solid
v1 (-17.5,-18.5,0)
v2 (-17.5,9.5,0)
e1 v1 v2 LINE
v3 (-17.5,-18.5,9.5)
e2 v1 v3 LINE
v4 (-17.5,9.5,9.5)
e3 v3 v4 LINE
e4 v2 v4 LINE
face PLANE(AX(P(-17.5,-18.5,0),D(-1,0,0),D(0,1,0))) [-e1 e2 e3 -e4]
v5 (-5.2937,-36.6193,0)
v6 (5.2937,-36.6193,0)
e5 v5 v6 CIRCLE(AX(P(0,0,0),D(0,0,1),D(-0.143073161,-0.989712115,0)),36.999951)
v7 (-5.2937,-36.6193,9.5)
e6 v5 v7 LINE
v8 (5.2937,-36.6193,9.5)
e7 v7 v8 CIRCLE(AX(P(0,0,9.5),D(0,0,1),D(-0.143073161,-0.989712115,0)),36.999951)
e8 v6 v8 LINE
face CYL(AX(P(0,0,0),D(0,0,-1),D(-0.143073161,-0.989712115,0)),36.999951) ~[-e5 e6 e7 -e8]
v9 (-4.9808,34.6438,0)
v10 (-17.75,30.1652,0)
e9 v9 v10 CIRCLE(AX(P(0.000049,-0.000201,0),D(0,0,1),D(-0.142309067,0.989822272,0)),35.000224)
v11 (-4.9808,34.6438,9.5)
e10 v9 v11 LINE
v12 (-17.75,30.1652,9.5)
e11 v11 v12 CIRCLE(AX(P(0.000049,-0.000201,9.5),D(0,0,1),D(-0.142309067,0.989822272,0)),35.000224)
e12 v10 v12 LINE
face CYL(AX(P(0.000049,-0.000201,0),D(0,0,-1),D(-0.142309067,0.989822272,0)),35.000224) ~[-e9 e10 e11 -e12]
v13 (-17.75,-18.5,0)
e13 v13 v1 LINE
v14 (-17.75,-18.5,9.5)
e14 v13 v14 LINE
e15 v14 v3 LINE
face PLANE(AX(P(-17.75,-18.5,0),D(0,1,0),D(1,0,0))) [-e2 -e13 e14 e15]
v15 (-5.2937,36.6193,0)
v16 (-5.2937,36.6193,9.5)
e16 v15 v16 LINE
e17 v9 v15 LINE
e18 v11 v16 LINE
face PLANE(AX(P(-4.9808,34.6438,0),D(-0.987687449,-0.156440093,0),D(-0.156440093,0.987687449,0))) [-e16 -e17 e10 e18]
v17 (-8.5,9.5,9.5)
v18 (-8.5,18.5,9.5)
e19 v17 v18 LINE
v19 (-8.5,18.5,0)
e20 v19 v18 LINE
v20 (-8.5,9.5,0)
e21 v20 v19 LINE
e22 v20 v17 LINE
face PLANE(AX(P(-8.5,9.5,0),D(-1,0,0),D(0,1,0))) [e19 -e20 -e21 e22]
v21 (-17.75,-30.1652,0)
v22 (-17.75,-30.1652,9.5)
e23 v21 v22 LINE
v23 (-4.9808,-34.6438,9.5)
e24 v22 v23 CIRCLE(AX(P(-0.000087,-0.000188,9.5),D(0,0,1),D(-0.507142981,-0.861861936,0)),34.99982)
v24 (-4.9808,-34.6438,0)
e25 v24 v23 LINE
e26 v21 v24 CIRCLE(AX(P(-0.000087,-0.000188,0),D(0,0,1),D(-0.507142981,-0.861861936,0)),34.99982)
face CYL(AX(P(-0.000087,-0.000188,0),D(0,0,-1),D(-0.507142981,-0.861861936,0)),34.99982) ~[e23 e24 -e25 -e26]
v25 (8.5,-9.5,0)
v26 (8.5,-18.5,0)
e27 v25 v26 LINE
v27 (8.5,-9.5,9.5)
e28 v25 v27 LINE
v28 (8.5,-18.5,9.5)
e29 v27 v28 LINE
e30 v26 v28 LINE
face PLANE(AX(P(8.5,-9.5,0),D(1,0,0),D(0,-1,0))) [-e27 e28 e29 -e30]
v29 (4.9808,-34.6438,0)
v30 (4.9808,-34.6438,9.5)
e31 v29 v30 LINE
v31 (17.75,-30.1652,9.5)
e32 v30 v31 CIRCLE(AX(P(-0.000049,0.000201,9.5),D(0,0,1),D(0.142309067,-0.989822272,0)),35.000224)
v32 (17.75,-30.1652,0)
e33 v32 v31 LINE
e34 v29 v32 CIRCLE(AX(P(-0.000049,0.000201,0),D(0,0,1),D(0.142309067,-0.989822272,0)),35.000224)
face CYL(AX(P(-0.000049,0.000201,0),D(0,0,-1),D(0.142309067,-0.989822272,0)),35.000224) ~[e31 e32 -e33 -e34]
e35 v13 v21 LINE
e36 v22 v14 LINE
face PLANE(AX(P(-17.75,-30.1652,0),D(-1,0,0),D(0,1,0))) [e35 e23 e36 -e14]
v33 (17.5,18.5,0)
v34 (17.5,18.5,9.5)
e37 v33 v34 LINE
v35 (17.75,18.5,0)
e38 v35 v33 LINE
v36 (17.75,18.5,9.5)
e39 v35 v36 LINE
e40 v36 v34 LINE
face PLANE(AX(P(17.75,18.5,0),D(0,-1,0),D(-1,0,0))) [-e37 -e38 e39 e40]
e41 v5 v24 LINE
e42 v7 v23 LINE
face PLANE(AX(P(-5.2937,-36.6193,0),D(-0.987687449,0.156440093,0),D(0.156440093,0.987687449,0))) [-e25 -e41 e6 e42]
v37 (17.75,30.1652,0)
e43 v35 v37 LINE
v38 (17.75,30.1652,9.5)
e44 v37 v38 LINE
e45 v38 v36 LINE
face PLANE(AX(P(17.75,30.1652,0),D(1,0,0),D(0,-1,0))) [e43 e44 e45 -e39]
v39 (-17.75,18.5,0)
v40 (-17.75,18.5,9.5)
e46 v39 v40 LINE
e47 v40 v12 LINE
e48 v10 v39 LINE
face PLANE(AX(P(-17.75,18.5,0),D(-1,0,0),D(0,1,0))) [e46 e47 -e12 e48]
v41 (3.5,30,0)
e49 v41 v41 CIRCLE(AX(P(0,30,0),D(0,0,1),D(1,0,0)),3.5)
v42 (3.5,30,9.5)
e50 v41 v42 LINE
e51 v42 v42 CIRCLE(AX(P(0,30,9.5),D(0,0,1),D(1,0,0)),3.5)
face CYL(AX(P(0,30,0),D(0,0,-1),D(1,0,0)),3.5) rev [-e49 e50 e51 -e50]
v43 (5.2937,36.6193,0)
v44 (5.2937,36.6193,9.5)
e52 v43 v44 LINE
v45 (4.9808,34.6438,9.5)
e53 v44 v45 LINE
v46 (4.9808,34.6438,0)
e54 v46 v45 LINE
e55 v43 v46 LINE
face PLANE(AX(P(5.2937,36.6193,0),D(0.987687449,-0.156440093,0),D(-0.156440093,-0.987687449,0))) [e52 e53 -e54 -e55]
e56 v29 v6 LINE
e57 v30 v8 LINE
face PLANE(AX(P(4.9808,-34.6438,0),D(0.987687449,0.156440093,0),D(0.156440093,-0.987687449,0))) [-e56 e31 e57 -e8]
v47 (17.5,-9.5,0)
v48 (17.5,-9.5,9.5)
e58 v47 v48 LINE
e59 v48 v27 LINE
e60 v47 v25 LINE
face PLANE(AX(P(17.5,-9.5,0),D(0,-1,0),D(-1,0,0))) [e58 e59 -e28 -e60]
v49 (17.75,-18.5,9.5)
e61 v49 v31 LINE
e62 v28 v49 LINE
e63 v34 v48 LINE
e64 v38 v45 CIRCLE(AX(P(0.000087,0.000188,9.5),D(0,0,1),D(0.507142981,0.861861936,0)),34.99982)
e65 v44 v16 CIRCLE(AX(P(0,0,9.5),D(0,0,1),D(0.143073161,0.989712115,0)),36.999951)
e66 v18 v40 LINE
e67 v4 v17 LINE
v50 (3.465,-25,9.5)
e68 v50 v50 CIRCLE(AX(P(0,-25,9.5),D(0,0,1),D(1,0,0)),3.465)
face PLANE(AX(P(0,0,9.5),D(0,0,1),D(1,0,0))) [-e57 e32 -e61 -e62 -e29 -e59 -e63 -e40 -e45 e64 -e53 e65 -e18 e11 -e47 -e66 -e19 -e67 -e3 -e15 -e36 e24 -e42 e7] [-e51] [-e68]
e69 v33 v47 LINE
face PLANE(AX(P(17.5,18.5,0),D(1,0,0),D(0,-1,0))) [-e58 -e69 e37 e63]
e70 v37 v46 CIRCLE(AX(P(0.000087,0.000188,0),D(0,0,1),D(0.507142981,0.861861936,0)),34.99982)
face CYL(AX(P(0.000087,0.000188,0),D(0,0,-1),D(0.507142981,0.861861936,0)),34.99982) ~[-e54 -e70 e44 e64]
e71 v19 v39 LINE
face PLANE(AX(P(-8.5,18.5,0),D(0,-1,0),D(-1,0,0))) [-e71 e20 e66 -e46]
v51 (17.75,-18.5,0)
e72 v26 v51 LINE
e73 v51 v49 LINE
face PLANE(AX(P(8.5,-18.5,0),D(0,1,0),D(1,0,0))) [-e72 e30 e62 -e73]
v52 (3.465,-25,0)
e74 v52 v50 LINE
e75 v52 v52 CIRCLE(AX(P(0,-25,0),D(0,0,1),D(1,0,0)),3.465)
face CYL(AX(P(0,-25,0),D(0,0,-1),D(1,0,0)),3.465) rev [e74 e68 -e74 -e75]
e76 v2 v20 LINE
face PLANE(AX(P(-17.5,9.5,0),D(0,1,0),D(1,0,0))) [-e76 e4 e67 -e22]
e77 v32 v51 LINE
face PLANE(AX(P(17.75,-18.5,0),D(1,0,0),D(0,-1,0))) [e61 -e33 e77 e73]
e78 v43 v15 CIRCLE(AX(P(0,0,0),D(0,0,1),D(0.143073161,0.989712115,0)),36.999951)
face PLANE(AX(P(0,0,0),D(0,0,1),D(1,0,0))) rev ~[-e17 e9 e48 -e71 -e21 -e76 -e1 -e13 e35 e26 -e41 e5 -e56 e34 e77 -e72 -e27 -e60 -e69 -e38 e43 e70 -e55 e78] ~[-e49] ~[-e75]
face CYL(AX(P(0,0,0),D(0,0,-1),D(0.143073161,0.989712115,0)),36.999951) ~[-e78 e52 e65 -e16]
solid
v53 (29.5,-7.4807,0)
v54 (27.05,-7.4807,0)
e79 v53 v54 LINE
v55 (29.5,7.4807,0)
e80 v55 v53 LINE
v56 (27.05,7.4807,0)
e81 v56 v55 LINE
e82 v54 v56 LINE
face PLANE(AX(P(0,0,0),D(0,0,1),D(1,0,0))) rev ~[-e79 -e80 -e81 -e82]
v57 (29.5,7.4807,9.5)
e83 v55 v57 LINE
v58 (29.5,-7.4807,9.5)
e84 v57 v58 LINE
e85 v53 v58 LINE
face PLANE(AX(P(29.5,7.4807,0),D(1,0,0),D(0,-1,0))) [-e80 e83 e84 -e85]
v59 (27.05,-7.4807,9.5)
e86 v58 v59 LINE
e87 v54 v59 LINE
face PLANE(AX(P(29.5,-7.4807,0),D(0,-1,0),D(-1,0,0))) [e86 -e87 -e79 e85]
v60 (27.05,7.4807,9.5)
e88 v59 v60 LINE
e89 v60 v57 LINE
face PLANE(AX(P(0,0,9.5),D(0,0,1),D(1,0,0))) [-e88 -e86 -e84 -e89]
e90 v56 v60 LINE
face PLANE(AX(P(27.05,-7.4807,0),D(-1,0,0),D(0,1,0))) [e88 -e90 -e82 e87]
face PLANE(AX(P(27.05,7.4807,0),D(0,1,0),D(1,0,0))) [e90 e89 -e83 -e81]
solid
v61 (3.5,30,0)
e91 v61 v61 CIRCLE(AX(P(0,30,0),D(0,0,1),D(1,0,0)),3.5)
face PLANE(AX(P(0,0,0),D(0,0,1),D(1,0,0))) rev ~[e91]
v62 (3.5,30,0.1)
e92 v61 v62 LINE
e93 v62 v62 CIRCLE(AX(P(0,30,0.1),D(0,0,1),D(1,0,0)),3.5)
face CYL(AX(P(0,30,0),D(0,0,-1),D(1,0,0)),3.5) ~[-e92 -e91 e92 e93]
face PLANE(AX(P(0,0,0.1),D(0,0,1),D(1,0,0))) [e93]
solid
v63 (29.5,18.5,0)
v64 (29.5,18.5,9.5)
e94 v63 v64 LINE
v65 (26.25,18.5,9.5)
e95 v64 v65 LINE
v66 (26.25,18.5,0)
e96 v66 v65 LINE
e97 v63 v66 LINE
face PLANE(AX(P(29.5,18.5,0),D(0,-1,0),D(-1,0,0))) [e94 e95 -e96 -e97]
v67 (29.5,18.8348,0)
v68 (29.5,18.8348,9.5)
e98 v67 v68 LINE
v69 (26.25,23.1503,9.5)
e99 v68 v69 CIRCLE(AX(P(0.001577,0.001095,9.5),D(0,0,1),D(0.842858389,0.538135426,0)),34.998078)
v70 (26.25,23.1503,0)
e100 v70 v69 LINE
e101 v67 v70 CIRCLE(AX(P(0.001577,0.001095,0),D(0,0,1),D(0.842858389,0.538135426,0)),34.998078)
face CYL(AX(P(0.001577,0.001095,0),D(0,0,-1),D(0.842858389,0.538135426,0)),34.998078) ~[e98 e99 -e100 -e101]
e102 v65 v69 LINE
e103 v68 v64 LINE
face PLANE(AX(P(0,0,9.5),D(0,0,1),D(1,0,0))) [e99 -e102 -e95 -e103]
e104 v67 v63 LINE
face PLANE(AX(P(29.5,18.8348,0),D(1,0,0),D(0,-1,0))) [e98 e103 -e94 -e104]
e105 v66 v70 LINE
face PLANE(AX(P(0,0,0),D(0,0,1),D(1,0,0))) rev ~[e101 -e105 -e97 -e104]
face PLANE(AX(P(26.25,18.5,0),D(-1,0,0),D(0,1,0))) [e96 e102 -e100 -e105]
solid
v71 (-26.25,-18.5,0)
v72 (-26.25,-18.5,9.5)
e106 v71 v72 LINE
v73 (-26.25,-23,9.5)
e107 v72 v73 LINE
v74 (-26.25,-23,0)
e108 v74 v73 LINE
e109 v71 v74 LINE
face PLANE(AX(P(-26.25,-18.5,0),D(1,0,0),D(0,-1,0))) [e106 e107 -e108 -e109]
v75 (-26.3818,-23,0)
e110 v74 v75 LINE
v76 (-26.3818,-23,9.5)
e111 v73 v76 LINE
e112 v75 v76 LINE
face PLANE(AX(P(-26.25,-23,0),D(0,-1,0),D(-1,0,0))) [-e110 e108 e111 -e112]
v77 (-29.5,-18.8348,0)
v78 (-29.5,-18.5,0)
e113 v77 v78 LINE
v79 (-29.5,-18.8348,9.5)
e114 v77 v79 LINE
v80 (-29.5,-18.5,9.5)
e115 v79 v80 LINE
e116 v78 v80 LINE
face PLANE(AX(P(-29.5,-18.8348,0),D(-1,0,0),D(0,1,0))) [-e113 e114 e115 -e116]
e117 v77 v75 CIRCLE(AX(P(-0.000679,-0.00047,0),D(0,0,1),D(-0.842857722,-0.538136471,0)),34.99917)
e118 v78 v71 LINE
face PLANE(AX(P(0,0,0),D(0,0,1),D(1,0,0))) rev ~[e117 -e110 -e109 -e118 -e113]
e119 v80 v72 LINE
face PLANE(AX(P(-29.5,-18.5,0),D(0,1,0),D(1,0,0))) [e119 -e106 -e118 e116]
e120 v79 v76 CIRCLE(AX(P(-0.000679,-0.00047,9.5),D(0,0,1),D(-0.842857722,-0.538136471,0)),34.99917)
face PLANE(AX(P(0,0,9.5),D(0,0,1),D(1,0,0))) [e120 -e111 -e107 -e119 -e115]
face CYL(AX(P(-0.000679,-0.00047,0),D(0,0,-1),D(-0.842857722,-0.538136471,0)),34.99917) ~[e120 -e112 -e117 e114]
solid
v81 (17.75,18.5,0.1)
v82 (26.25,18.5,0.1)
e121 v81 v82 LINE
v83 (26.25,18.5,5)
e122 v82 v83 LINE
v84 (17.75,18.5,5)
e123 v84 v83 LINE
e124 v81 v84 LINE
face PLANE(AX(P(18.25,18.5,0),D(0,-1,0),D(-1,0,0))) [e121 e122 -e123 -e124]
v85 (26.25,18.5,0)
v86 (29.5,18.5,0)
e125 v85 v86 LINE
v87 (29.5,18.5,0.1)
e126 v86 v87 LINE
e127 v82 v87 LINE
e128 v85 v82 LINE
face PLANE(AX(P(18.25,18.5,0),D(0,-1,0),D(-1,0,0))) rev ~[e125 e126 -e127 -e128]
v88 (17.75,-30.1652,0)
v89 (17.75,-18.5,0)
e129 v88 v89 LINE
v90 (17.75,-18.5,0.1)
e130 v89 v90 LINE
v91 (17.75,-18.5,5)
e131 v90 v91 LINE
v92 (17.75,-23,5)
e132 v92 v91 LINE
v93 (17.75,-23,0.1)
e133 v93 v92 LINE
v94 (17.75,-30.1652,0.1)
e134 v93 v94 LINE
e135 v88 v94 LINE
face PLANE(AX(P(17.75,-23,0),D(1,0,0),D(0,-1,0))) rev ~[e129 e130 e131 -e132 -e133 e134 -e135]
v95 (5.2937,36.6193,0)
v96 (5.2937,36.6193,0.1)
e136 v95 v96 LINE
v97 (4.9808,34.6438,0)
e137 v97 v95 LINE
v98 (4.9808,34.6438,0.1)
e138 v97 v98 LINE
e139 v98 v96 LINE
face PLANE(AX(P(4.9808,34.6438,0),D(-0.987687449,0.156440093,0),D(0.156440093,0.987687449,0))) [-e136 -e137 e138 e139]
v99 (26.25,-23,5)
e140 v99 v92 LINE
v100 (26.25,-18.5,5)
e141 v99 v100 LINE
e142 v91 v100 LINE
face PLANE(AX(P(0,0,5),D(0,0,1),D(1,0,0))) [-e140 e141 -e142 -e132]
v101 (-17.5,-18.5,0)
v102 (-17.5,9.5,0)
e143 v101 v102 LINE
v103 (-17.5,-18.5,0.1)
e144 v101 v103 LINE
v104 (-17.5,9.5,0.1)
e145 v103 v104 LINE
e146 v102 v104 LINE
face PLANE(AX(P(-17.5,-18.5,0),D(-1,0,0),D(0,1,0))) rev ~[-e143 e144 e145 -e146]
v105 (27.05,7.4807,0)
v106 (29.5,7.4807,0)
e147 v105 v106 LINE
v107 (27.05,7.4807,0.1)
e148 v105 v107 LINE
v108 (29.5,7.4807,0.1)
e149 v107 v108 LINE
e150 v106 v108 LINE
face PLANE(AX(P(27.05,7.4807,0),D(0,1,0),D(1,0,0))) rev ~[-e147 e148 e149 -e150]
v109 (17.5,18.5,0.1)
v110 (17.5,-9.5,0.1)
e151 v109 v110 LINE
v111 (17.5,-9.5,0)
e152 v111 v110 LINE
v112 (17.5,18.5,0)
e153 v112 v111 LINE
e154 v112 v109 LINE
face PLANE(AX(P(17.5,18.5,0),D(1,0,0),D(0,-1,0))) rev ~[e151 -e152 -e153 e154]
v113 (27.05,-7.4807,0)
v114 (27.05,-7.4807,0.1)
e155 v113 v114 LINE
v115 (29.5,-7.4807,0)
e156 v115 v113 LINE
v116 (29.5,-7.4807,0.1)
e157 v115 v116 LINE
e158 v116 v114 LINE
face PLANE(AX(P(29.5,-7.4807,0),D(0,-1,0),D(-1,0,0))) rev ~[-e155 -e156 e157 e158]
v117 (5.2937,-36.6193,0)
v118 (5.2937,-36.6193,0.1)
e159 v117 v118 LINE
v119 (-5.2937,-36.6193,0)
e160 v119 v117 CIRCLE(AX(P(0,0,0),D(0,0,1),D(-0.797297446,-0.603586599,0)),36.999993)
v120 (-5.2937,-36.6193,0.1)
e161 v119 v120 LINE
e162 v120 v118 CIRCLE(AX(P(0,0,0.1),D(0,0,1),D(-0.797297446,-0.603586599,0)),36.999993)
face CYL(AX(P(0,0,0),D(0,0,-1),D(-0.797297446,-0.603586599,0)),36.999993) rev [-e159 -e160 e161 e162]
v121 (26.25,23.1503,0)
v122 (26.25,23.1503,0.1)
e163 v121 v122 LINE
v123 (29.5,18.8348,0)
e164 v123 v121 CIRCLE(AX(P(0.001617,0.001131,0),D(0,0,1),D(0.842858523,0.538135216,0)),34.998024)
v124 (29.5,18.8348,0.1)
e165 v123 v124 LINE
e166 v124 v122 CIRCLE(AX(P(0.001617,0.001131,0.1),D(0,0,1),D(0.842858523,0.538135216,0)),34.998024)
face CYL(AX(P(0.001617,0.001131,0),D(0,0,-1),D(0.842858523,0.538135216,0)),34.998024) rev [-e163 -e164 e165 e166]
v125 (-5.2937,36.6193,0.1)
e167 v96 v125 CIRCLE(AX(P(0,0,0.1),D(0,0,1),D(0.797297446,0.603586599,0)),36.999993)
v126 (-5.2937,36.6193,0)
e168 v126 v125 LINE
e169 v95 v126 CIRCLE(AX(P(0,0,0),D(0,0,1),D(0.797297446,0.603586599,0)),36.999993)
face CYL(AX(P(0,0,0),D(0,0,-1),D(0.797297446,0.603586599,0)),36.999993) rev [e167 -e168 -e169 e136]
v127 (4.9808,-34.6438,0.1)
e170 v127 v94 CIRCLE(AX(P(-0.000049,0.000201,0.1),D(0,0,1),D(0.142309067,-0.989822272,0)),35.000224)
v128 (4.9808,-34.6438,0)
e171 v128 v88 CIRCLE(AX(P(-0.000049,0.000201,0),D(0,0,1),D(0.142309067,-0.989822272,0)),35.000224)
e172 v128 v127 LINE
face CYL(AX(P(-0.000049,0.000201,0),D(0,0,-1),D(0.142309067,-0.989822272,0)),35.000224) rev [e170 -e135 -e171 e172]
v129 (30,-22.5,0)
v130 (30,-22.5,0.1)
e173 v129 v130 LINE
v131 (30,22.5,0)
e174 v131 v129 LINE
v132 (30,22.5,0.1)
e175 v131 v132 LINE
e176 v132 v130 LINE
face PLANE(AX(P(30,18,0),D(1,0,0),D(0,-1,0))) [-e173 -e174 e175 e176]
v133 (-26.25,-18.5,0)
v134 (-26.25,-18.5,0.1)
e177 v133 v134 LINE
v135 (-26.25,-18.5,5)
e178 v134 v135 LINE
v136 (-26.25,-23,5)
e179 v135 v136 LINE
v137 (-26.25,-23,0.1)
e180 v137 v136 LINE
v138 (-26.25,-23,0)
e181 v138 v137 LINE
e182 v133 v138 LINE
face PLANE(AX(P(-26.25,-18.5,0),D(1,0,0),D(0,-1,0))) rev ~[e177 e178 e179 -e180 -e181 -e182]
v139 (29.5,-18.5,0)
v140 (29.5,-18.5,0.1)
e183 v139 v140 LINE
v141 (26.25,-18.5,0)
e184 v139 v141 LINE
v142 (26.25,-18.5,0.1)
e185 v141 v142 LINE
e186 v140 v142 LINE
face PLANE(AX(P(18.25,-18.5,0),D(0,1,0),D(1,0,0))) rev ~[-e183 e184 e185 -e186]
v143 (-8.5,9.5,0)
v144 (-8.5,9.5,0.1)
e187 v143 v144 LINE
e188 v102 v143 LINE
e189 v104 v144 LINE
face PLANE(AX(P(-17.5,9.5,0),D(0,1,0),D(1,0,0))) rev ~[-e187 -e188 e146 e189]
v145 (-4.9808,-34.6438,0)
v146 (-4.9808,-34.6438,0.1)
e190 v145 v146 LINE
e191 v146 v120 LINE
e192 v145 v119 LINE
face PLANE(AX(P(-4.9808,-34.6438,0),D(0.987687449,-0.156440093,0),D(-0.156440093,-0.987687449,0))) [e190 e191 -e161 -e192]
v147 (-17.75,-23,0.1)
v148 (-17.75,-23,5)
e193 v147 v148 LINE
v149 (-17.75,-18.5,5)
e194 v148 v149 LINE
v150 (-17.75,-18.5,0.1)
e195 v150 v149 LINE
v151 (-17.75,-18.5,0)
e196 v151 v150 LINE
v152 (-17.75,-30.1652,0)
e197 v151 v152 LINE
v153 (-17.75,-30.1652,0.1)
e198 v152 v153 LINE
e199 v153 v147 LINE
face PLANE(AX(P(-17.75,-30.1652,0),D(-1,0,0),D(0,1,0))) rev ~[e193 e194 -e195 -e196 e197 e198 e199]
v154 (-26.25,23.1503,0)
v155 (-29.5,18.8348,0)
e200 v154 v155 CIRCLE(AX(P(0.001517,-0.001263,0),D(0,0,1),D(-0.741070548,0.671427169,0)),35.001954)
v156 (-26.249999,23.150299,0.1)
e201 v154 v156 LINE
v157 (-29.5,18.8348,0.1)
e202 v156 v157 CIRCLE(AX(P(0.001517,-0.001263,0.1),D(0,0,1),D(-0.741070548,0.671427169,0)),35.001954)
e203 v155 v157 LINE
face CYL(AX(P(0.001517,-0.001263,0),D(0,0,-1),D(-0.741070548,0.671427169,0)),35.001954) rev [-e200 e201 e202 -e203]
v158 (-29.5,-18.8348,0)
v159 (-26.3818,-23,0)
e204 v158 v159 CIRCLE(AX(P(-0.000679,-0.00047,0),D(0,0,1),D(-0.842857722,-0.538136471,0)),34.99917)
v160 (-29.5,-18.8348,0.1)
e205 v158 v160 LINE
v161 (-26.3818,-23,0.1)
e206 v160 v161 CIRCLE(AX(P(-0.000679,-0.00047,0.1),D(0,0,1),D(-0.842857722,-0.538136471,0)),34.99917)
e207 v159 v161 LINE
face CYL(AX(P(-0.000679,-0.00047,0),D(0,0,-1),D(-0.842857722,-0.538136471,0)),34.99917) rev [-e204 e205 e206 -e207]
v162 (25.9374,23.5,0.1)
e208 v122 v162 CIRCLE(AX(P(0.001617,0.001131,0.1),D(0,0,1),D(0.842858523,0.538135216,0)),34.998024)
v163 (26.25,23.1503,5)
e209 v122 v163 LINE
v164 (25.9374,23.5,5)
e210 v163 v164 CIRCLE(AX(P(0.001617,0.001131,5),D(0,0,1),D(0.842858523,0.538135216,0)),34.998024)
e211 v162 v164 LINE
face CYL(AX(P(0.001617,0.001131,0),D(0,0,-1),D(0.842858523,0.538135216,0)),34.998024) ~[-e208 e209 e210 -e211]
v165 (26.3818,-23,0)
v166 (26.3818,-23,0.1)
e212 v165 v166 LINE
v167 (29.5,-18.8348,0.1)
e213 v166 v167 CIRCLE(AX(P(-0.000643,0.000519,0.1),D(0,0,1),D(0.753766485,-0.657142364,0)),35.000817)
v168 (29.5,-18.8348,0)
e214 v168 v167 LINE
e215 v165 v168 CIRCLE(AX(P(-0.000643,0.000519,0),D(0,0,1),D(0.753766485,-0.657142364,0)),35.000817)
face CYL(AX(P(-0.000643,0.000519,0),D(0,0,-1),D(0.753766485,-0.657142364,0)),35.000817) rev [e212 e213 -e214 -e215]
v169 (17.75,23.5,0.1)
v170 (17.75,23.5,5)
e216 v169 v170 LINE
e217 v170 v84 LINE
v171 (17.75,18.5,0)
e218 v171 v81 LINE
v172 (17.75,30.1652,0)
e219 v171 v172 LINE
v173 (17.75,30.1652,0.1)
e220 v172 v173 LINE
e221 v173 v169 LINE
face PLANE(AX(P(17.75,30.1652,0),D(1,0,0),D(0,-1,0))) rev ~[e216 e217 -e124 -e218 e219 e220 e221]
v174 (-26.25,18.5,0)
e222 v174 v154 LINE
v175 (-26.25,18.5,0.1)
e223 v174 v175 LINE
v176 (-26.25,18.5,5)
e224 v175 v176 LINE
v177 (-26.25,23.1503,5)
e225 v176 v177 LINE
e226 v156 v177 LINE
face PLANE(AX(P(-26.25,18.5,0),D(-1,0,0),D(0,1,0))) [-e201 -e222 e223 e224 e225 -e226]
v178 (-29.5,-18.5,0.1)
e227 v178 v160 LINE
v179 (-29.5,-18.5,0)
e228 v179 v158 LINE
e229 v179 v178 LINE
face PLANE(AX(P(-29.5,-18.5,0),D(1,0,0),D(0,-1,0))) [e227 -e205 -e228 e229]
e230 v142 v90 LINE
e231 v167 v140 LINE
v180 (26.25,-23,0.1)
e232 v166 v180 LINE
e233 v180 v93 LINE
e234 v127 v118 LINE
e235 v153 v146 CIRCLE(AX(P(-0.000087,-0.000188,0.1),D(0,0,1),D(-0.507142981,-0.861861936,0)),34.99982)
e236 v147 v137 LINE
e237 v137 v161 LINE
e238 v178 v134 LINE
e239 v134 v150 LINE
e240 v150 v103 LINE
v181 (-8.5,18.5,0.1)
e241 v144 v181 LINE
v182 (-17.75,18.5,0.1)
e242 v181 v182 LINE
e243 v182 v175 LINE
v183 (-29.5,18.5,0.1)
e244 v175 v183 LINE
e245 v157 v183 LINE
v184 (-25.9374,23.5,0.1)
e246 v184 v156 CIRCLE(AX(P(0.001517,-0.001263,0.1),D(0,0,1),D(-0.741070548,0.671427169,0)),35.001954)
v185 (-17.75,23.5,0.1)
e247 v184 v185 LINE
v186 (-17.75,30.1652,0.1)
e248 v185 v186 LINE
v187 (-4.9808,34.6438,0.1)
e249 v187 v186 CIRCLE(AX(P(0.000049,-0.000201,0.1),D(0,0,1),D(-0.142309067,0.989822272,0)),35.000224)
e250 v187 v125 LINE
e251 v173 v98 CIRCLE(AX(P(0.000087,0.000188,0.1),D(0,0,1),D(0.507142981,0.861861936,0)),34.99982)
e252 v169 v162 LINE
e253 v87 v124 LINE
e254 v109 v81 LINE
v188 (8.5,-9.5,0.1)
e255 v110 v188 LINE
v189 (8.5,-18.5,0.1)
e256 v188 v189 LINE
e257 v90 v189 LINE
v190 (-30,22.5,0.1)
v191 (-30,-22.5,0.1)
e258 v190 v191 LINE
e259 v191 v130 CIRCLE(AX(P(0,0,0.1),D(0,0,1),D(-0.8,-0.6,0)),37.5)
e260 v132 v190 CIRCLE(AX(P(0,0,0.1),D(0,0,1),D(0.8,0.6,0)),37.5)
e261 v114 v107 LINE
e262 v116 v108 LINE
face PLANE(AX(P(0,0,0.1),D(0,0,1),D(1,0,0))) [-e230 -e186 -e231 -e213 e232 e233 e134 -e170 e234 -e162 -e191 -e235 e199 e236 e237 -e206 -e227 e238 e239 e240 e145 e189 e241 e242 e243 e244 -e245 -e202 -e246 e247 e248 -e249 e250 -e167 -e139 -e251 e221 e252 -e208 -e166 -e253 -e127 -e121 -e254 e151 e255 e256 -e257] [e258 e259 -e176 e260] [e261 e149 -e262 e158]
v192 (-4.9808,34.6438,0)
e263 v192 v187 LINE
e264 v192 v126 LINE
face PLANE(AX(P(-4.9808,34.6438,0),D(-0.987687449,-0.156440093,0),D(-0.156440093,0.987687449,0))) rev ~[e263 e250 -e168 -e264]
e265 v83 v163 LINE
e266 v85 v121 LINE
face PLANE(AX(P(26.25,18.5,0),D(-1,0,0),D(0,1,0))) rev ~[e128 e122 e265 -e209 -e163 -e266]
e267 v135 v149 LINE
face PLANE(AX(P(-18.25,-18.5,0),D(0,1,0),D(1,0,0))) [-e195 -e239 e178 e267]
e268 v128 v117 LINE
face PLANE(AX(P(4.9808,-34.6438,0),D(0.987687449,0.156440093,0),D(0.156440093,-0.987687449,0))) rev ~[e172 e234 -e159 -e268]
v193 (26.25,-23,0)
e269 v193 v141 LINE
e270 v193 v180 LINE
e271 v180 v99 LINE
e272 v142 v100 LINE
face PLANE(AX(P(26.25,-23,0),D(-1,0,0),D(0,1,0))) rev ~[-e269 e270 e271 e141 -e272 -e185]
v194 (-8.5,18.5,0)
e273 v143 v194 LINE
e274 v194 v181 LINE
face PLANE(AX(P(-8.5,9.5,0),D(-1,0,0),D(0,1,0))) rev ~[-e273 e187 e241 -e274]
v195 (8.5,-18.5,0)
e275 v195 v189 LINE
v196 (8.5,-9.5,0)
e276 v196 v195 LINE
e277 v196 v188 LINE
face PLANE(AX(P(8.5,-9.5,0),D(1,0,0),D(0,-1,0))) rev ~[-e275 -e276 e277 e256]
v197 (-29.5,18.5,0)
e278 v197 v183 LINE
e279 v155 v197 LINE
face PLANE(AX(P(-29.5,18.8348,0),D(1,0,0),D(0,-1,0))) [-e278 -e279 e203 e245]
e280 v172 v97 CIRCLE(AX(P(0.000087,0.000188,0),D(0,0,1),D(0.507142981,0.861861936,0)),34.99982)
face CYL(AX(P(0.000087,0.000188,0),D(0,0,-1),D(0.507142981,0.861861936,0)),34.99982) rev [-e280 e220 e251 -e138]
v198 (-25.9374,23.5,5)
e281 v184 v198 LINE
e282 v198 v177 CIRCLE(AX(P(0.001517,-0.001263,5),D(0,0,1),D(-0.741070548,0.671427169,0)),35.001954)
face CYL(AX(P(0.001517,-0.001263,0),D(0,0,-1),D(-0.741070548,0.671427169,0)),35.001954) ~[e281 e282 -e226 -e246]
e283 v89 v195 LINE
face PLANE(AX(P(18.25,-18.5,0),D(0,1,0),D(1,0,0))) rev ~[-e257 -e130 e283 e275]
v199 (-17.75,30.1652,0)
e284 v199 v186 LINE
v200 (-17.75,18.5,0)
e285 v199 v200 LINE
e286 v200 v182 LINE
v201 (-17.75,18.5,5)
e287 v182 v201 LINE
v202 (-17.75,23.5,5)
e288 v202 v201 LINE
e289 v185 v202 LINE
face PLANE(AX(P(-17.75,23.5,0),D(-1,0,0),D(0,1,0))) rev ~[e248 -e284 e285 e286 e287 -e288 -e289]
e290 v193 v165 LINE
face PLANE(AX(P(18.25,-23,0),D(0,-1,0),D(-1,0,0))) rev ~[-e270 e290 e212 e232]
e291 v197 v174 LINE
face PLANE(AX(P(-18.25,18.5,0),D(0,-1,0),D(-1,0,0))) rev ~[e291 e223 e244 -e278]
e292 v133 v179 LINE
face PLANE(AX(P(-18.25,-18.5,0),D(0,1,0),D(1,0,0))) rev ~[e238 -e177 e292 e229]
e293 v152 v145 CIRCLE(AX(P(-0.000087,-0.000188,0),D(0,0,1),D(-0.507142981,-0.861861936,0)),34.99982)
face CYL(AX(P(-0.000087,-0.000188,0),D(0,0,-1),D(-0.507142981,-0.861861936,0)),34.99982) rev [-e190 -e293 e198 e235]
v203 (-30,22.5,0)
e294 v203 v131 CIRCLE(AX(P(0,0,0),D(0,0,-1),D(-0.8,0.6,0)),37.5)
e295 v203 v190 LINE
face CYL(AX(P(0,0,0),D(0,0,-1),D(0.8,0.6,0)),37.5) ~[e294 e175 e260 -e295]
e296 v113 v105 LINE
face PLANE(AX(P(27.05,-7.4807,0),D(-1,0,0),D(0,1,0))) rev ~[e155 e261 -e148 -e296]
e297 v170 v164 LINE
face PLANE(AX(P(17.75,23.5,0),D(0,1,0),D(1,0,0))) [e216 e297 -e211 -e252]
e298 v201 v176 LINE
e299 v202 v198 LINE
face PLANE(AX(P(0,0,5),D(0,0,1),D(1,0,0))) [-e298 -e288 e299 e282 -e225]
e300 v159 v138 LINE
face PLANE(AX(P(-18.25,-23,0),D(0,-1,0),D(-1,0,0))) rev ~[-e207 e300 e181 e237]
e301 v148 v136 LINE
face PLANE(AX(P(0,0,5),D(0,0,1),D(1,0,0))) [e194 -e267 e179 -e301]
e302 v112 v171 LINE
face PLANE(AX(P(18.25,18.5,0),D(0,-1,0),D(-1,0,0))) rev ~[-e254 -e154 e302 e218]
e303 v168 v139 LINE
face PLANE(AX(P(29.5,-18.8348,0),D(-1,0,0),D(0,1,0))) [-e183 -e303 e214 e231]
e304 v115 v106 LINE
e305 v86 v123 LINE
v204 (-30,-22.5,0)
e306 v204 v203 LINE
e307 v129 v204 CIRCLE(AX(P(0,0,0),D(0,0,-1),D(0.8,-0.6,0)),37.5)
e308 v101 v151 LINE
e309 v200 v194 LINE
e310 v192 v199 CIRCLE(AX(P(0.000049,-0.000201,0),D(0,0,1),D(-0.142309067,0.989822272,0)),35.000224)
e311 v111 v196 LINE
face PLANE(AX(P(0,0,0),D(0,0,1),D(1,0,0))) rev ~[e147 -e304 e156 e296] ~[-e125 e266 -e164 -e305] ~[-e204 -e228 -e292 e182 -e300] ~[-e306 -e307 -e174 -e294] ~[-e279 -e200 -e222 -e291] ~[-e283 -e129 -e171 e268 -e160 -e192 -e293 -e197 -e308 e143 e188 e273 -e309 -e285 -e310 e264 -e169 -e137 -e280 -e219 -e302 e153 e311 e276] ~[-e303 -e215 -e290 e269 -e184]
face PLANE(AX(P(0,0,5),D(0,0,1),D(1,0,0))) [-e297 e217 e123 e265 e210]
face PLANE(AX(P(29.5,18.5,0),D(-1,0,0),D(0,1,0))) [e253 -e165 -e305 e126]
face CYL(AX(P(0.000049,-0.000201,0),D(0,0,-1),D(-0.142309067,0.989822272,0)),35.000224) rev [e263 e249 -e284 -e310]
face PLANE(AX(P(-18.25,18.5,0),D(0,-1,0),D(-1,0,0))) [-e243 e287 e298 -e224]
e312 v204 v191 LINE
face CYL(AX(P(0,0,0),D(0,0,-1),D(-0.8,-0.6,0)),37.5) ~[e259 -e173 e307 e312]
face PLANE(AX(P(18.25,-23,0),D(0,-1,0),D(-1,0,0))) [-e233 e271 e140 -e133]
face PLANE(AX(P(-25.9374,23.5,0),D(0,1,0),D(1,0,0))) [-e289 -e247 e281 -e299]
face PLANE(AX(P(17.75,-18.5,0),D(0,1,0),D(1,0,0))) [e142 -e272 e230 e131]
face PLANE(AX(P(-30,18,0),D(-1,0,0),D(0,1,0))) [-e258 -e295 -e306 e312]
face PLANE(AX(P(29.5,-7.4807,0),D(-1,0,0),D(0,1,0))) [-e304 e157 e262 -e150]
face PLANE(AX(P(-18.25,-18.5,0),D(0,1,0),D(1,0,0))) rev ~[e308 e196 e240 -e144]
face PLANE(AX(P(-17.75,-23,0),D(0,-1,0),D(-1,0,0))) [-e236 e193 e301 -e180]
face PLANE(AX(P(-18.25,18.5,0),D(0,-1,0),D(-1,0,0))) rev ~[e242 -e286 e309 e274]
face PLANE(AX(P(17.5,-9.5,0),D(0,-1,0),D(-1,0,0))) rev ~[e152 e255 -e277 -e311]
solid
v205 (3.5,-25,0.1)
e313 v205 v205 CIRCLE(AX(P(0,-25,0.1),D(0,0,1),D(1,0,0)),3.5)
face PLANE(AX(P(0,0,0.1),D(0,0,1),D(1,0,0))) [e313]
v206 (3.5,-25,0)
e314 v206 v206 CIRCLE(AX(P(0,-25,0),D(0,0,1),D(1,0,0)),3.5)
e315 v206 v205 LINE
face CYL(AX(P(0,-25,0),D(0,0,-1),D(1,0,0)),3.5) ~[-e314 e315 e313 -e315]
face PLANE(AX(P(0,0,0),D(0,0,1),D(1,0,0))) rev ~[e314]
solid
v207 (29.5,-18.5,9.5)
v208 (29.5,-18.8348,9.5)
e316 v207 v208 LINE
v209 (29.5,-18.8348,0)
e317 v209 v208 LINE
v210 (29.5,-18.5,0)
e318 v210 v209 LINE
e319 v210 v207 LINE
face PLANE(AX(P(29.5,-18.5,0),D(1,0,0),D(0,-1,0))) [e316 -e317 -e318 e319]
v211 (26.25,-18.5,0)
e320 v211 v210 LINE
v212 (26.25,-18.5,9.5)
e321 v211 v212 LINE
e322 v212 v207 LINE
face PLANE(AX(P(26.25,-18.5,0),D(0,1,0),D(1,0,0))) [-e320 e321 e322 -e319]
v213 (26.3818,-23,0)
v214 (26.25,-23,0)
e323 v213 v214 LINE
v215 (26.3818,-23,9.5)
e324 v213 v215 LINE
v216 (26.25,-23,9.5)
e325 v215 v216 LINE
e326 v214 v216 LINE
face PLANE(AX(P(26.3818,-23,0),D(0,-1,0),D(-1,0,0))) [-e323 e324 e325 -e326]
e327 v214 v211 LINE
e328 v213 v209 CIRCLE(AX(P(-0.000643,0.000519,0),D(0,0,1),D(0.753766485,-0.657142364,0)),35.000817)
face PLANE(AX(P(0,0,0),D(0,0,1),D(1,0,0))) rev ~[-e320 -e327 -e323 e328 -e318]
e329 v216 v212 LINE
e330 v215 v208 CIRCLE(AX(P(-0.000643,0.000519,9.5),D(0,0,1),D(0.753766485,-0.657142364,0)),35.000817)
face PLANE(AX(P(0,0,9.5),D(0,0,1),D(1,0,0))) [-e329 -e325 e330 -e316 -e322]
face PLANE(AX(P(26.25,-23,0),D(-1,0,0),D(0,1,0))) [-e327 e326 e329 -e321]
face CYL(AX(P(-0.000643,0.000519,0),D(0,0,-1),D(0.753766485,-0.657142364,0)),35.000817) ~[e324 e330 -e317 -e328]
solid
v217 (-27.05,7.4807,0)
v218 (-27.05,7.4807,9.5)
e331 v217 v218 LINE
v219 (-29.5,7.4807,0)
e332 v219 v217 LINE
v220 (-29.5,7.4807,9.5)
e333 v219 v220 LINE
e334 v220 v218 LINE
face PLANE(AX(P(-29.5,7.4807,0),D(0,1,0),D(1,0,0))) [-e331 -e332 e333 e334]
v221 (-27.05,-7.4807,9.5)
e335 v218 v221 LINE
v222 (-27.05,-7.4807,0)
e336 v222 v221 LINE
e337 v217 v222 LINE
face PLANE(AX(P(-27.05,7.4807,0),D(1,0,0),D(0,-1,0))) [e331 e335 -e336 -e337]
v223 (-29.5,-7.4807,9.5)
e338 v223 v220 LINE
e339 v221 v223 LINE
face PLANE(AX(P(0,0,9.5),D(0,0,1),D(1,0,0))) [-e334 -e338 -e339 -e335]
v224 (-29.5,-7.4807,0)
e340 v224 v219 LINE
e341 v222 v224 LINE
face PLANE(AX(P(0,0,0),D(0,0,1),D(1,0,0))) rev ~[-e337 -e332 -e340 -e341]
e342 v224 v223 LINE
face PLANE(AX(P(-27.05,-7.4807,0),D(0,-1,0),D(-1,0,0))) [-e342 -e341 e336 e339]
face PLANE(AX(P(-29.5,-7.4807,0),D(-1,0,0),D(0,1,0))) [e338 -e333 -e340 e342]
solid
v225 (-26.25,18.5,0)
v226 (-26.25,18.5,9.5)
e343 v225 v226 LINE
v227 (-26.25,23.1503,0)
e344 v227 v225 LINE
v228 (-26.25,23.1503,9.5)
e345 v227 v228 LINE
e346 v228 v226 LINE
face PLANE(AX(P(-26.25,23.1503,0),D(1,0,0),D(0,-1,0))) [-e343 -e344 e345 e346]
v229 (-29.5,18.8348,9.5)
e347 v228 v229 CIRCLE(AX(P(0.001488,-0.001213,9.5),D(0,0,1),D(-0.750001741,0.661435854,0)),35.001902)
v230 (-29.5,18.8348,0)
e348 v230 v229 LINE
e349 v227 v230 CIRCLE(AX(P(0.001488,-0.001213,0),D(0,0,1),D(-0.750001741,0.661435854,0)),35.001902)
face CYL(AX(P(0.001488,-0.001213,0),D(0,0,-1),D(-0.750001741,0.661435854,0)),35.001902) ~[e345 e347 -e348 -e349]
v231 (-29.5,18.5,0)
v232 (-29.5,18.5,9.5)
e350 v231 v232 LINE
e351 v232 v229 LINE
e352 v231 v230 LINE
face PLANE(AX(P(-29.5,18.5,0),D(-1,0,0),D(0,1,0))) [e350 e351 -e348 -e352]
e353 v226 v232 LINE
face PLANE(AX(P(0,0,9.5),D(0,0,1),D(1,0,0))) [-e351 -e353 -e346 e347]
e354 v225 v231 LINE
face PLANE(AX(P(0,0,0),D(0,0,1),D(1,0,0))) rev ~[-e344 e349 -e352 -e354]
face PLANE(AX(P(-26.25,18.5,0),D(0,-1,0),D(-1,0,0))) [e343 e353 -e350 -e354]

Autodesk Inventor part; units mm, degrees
ref_plane "YZ Plane" through (0, 0, 0) normal (1, 0, 0) x (0, 1, 0)
ref_plane "XZ Plane" through (0, 0, 0) normal (0, 1, 0) x (-1, 0, 0)
ref_plane "XY Plane" through (0, 0, 0) normal (0, 0, 1) x (1, 0, 0)
ref_plane "Work Plane1" through (0, 0, 0) normal (0, 0, 1) x (1, 0, 0)
sketch "KEEPOUT_TOP_0.1MM_S" plane through (0, 0, 0) normal (0, 0, 1) x (1, 0, 0)
  circle A0 centre (0, -25) radius 1.75
  circle A1 centre (14, -14) radius 1.75
  circle A2 centre (-22, -14) radius 1.75
  circle A3 centre (-14, 14) radius 1.75
  circle A4 centre (22, 14) radius 1.75
  circle A5 centre (0, 30) radius 1.75
  line L0 (30, 22.5) -> (30, -22.5)
  arc A6 (30, 22.5) -> (-30, 22.5) centre (0, 0) ccw
  line L1 (-30, -22.5) -> (-30, 22.5)
  arc A7 (-30, -22.5) -> (30, -22.5) centre (0, 0) ccw
  line L2 (29.5, -22.3327) -> (29.5, 22.3327)
  arc A8 (29.5, 22.3327) -> (-29.5, 22.3327) centre (0, 0) ccw
  line L3 (-29.5, 22.3327) -> (-29.5, -22.3327)
  arc A9 (-29.5, -22.3327) -> (29.5, -22.3327) centre (0, 0) ccw
  line L4 (18.25, -29.3526) -> (18.25, -17.75)
  line L5 (25.75, -20.8034) -> (25.75, -23.3524)
  line L6 (18.75, -24) -> (26.1582, -24)
  line L7 (-9, 11) -> (-9, 17)
  line L8 (-17, 10) -> (-10, 10)
  line L9 (-18.25, 10.25) -> (-18.25, -10.25)
  line L10 (-25, -18) -> (-19, -18)
  line L11 (-18, -17) -> (-18, 9)
  line L12 (18, 17) -> (18, -9)
  line L13 (17, -10) -> (10, -10)
  line L14 (9, -11) -> (9, -17)
  line L15 (10, -18) -> (25, -18)
  line L16 (27, -18) -> (35.3377, -18)
  line L17 (33, -7.9807) -> (27, -7.9807)
  line L18 (27, 7.9807) -> (33, 7.9807)
  line L19 (35.3377, 18) -> (27, 18)
  line L20 (29.5, 18.5) -> (17.5, 18.5)
  line L21 (17.5, 18.5) -> (17.5, -9.5)
  line L22 (17.5, -9.5) -> (8.5, -9.5)
  line L23 (8.5, -9.5) -> (8.5, -18.5)
  line L24 (8.5, -18.5) -> (29.5, -18.5)
  line L25 (29.5, -7.4807) -> (27.05, -7.4807)
  line L26 (27.05, -7.4807) -> (27.05, 7.4807)
  line L27 (27.05, 7.4807) -> (29.5, 7.4807)
  line L28 (29.5, 7.4807) -> (29.5, -7.4807)
  circle A10 centre (0, -25) radius 3.5
  circle A11 centre (0, 30) radius 3.5
  line L29 (-29.5, -18.5) -> (-17.5, -18.5)
  line L30 (-17.5, -18.5) -> (-17.5, 9.5)
  line L31 (-17.5, 9.5) -> (-8.5, 9.5)
  line L32 (-8.5, 9.5) -> (-8.5, 18.5)
  line L33 (-8.5, 18.5) -> (-29.5, 18.5)
  line L34 (-29.5, -7.4807) -> (-27.05, -7.4807)
  line L35 (-27.05, -7.4807) -> (-27.05, 7.4807)
  line L36 (-27.05, 7.4807) -> (-29.5, 7.4807)
  line L37 (-29.5, 7.4807) -> (-29.5, -7.4807)
  line L38 (-6.5943, -38.4385) -> (-6.1249, -35.4751)
  arc A12 (-33.4813, -20) -> (-6.5943, -38.4385) centre (0, 0) ccw
  line L39 (-29.5931, -20) -> (-33.4813, -20)
  arc A13 (-29.1821, -20.2153) -> (-29.5931, -20) centre (-29.5931, -20.5) ccw
  arc A14 (-29.1821, -20.2153) -> (-25.6905, -24.5) centre (0, 0) ccw
  line L40 (-18.75, -24.5) -> (-25.6905, -24.5)
  line L41 (-18.75, -29.2948) -> (-18.75, -24.5)
  arc A15 (-18.75, -29.2948) -> (-17.4627, -31.481) centre (-16.25, -29.2948) ccw
  arc A16 (-17.4627, -31.481) -> (-6.1249, -35.4751) centre (0, 0) ccw
  line L42 (26.1751, -24.5) -> (18.75, -24.5)
  spline S0 degree 3 poles (26.25, -24.6361) (26.2495, -24.6351) (26.2489, -24.6341) (26.225, -24.5909) (26.2003, -24.5462) (26.1751, -24.5) knots -0.000336 -0.000336 -0.000336 -0.000336 0 0 0.014472 0.014472 0.014472 0.014472
  arc A17 (26.25, -24.6361) -> (29.9333, -20) centre (0, 0) ccw
  line L43 (29.9333, -20) -> (33.4813, -20)
  arc A18 (6.5943, -38.4385) -> (33.4813, -20) centre (0, 0) ccw
  line L44 (6.1249, -35.4751) -> (6.5943, -38.4385)
  arc A19 (6.1249, -35.4751) -> (17.4627, -31.481) centre (0, 0) ccw
  arc A20 (17.4627, -31.481) -> (18.75, -29.2948) centre (16.25, -29.2948) ccw
  line L45 (18.75, -24.5) -> (18.75, -29.2948)
  line L46 (-18.25, -17.75) -> (-18.25, -29.3526)
  line L47 (-26.1582, -24) -> (-18.75, -24)
  arc A21 (-17.2201, -31.0438) -> (-7.4928, -34.7003) centre (0, 0) ccw
  arc A22 (7.4928, -34.7003) -> (17.2201, -31.0438) centre (0, 0) ccw
  line L48 (5.6311, -35.5534) -> (6.2569, -39.5044)
  line L49 (-6.2569, -39.5044) -> (-5.6311, -35.5534)
  arc A23 (26.3818, -23) -> (29.5, -18.8348) centre (0, 0) ccw
  line L50 (26.3818, -23) -> (17.75, -23)
  line L51 (17.75, -23) -> (17.75, -30.1652)
  arc A24 (4.9808, -34.6438) -> (17.75, -30.1652) centre (0, 0) ccw
  line L52 (4.9808, -34.6438) -> (5.2937, -36.6193)
  arc A25 (-17.75, -30.1652) -> (-4.9808, -34.6438) centre (0, 0) ccw
  line L53 (-17.75, -30.1652) -> (-17.75, -23)
  line L54 (-17.75, -23) -> (-26.3818, -23)
  arc A26 (-29.5, -18.8348) -> (-26.3818, -23) centre (0, 0) ccw
  line L55 (-5.6311, 35.5534) -> (-6.2569, 39.5044)
  arc A27 (-7.4928, 34.7003) -> (-17.2201, 31.0438) centre (0, 0) ccw
  line L56 (-18.25, 29.3526) -> (-18.25, 17.75)
  line L57 (-18.75, 24) -> (-26.1582, 24)
  arc A28 (-26.625, 23.481) -> (-28.0998, 21.6944) centre (0, 0) ccw
  arc A29 (-25.9374, 23.5) -> (-29.5, 18.8348) centre (0, 0) ccw
  line L58 (-25.9374, 23.5) -> (-17.75, 23.5)
  line L59 (-17.75, 23.5) -> (-17.75, 30.1652)
  arc A30 (-4.9808, 34.6438) -> (-17.75, 30.1652) centre (0, 0) ccw
  arc A31 (17.75, 30.1652) -> (4.9808, 34.6438) centre (0, 0) ccw
  line L60 (26.1582, 24) -> (18.75, 24)
  line L61 (18.25, 17.75) -> (18.25, 29.3526)
  arc A32 (28.0998, 21.6944) -> (26.625, 23.481) centre (0, 0) ccw
  line L62 (17.75, 30.1652) -> (17.75, 23.5)
  line L63 (17.75, 23.5) -> (25.9374, 23.5)
  arc A33 (29.5, 18.8348) -> (25.9374, 23.5) centre (0, 0) ccw
  line L64 (4.9808, 34.6438) -> (5.2937, 36.6193)
  line L65 (-4.9808, -34.6438) -> (-5.2937, -36.6193)
  line L66 (-10, 18) -> (-25, 18)
  arc A34 (17.2201, 31.0438) -> (7.4928, 34.7003) centre (0, 0) ccw
  line L67 (6.2569, 39.5044) -> (5.6311, 35.5534)
  line L68 (27, 18) -> (25, 18)
  line L69 (18, 17) -> (18, -9)
  arc A35 (-26, 17) -> (-27, 18) centre (-27, 17) ccw
  line L70 (-27, 18) -> (-35.3377, 18)
  arc A36 (-35.3377, 18) -> (-36.6968, 17.1346) centre (-35.3377, 16.5) ccw
  arc A37 (-36.6968, 17.1346) -> (-36.6968, -17.1346) centre (0, 0) ccw
  arc A38 (-36.6968, -17.1346) -> (-35.3377, -18) centre (-35.3377, -16.5) ccw
  line L71 (-35.3377, -18) -> (-27, -18)
  arc A39 (-27, -18) -> (-26, -17) centre (-27, -17) ccw
  line L72 (-26, -17) -> (-26, -8.9807)
  arc A40 (-26, -8.9807) -> (-27, -7.9807) centre (-27, -8.9807) ccw
  line L73 (-27, -7.9807) -> (-33, -7.9807)
  arc A41 (-34, -6.9807) -> (-33, -7.9807) centre (-33, -6.9807) ccw
  line L74 (-34, -6.9807) -> (-34, 6.9807)
  arc A42 (-33, 7.9807) -> (-34, 6.9807) centre (-33, 6.9807) ccw
  line L75 (-33, 7.9807) -> (-27, 7.9807)
  arc A43 (-27, 7.9807) -> (-26, 8.9807) centre (-27, 8.9807) ccw
  line L76 (-26, 8.9807) -> (-26, 17)
  circle A44 centre (-30, 14.5) radius 1.75
  circle A45 centre (-30, -14.5) radius 1.75
  line L77 (-26.55, -15.6278) -> (-26.55, 4.9922)
  line L78 (-27.4, -5) -> (-27.4, 5)
  line L79 (-26.55, -15.6278) -> (-26.55, 4.9922)
  line L80 (26.55, 15.6278) -> (26.55, -4.9922)
  line L81 (-4.9808, 34.6438) -> (-5.2937, 36.6193)
  line L82 (-29.5, 18.8348) -> (-29.5, 22.3327)
  point P0 (0, 0)
  dimension "d0" = 0.5
  dimension "d1" = 7
  dimension "d2" = 7
  dimension "d3" = 1
  dimension "d4" = 1
  dimension "d5" = 0.5
  dimension "d6" = 0.5
  dimension "d7" = 0.5
  dimension "d8" = 0.5
  dimension "d9" = 0.5
  dimension "d10" = 0.5
  dimension "d11" = 1
  dimension "d12" = 0.5
  dimension "d13" = 0.5
  dimension "d14" = 0.5
  dimension "d15" = 0.5
  dimension "d16" = 0.5
  dimension "d17" = 0.5
  dimension "d18" = 0.5
  dimension "d19" = 0.5
  dimension "d20" = 0.5
  dimension "d21" = 0.5
  dimension "d23" = 0.5
  dimension "d24" = 0.5
  dimension "d25" = 0.5
  dimension "d26" = 0.5
  dimension "d27" = 0.5
  dimension "d28" = 0.5
  dimension "d29" = 0.5
  dimension "d30" = 0.5
  dimension "d31" = 0.5
  dimension "d32" = 0.5
  dimension "d33" = 0.5
  dimension "d34" = 0.5
  dimension "d35" = 0.5
  dimension "d36" = 0.5
  dimension "d37" = 0.5
  dimension "d38" = 0.5
extrude "KEEPOUT_TOP_0.1MM" add sketch "KEEPOUT_TOP_0.1MM_S" along normal blind 0.1 contours A0 | A1 | A2 | A3 | A4 | A5 | L0 L19 L2 A8 L67 A6 | L0 L18 L2 L19 | L67 A8 L55 A6 | L0 L17 L2 L18 | L2 L27 L26 L25 L24 L23 L22 L21 L20 | L55 A8 L3 L70 L1 A6 | A8 L2 A33 L63 L62 A31 L64 | L0 L16 L2 L17 | A8 L81 A30 L59 L58 A29 L3 | L0 L43 A17 L2 L16 | L70 L3 A44 L1 | L0 A7 L44 A9 L2 A17 L43 | A44 L3 L1 | L70 A35 L76 A43 L75 L3 A44 | L3 L33 L32 L31 L30 L29 L71 A39 L72 A40 L73 L34 L35 L36 L75 A43 L76 A35 L70 | A44 L3 L75 L1 | A44 L3 | A7 L48 A9 L44 | A17 S0 L42 L45 A20 A19 L44 A9 L52 A24 L51 L50 A23 L2 | L2 A9 L44 A19 A20 L45 L42 S0 A17 | L75 L3 L73 L1 | A7 L49 A9 L48 | L73 L3 A45 L1 | A7 L38 A9 L49 | A45 L3 L1 | L73 A40 L72 A39 L71 L3 A45 | L36 L35 L34 L3 | L71 L3 A13 L39 L1 | L1 A45 L3 L71 | A7 L1 L39 A13 L3 A9 L38 | A9 L38 A16 A15 L41 L40 A14 A13 L3 A26 L54 L53 A25 L65 | A45 L3 | A9 L3 A13 A14 L40 L41 A15 A16 L38 | A10 | A11
ref_plane "Work Plane2" through (0, 0, 0) normal (0, 0, 1) x (1, 0, 0)
sketch "KEEPOUT_TOP_5MM_S" plane through (0, 0, 0) normal (0, 0, 1) x (1, 0, 0)
  line L0 (-29.5, 7.4807) -> (-27.05, 7.4807)
  line L1 (-27.05, 7.4807) -> (-27.05, -7.4807)
  line L2 (-27.05, -7.4807) -> (-29.5, -7.4807)
  line L3 (-29.5, -7.4807) -> (-29.5, 7.4807)
  line L4 (30, -22.5) -> (30, 22.5)
  arc A0 (30, 22.5) -> (-30, 22.5) centre (0, 0) ccw
  line L5 (-30, 22.5) -> (-30, -22.5)
  arc A1 (-30, -22.5) -> (30, -22.5) centre (0, 0) ccw
  line L6 (29.5, -7.4807) -> (27.05, -7.4807)
  line L7 (27.05, -7.4807) -> (27.05, 7.4807)
  line L8 (27.05, 7.4807) -> (29.5, 7.4807)
  line L9 (29.5, 7.4807) -> (29.5, -7.4807)
  line L10 (-29.5, 18.5) -> (-29.5, 18.8348)
  arc A2 (-25.9374, 23.5) -> (-29.5, 18.8348) centre (0, 0) ccw
  line L11 (-25.9374, 23.5) -> (-17.75, 23.5)
  line L12 (-17.75, 23.5) -> (-17.75, 30.1652)
  arc A3 (-4.9808, 34.6438) -> (-17.75, 30.1652) centre (0, 0) ccw
  line L13 (-4.9808, 34.6438) -> (-5.2937, 36.6193)
  arc A4 (5.2937, 36.6193) -> (-5.2937, 36.6193) centre (0, 0) ccw
  line L14 (5.2937, 36.6193) -> (4.9808, 34.6438)
  arc A5 (17.75, 30.1652) -> (4.9808, 34.6438) centre (0, 0) ccw
  line L15 (17.75, 30.1652) -> (17.75, 23.5)
  line L16 (17.75, 23.5) -> (25.9374, 23.5)
  arc A6 (29.5, 18.8348) -> (25.9374, 23.5) centre (0, 0) ccw
  line L17 (29.5, 18.8348) -> (29.5, 18.5)
  line L18 (29.5, 18.5) -> (17.5, 18.5)
  line L19 (17.5, 18.5) -> (17.5, -9.5)
  line L20 (17.5, -9.5) -> (8.5, -9.5)
  line L21 (8.5, -9.5) -> (8.5, -18.5)
  line L22 (8.5, -18.5) -> (29.5, -18.5)
  line L23 (29.5, -18.5) -> (29.5, -18.8348)
  arc A7 (26.3818, -23) -> (29.5, -18.8348) centre (0, 0) ccw
  line L24 (26.3818, -23) -> (17.75, -23)
  line L25 (17.75, -23) -> (17.75, -30.1652)
  arc A8 (4.9808, -34.6438) -> (17.75, -30.1652) centre (0, 0) ccw
  line L26 (4.9808, -34.6438) -> (5.2937, -36.6193)
  arc A9 (-5.2937, -36.6193) -> (5.2937, -36.6193) centre (0, 0) ccw
  line L27 (-5.2937, -36.6193) -> (-4.9808, -34.6438)
  arc A10 (-17.75, -30.1652) -> (-4.9808, -34.6438) centre (0, 0) ccw
  line L28 (-17.75, -30.1652) -> (-17.75, -23)
  line L29 (-17.75, -23) -> (-26.3818, -23)
  arc A11 (-29.5, -18.8348) -> (-26.3818, -23) centre (0, 0) ccw
  line L30 (-29.5, -18.8348) -> (-29.5, -18.5)
  line L31 (-29.5, -18.5) -> (-17.5, -18.5)
  line L32 (-17.5, -18.5) -> (-17.5, 9.5)
  line L33 (-17.5, 9.5) -> (-8.5, 9.5)
  line L34 (-8.5, 9.5) -> (-8.5, 18.5)
  line L35 (-8.5, 18.5) -> (-29.5, 18.5)
  line L36 (25.75, -20.8034) -> (25.75, -23.3524)
  line L37 (18.25, -29.3526) -> (18.25, -17.75)
  line L38 (-18.25, -17.75) -> (-18.25, -29.3526)
  line L39 (-25.75, -23.3524) -> (-25.75, -20.8034)
  line L40 (18.25, 17.75) -> (18.25, 29.3526)
  line L41 (25.75, 23.3524) -> (25.75, 20.8034)
  line L42 (-18.25, 29.3526) -> (-18.25, 17.75)
  line L43 (-25.75, 20.8034) -> (-25.75, 23.3524)
  line L44 (17.75, 23.5) -> (17.75, 18.5)
  line L45 (29.5, 18.5) -> (17.5, 18.5)
  line L46 (26.25, 18.5) -> (26.25, 23.1503)
  arc A12 (29.5, 18.8348) -> (25.9374, 23.5) centre (0, 0) ccw
  line L47 (17.75, -23) -> (17.75, -18.5)
  line L48 (8.5, -18.5) -> (29.5, -18.5)
  line L49 (26.3818, -23) -> (17.75, -23)
  line L50 (26.25, -23) -> (26.25, -18.5)
  line L51 (-26.3818, -23) -> (-17.75, -23)
  line L52 (-17.75, -23) -> (-17.75, -18.5)
  line L53 (-29.5, -18.5) -> (-17.5, -18.5)
  line L54 (-26.25, -18.5) -> (-26.25, -23.1503)
  arc A13 (-29.5, -18.8348) -> (-26.3818, -23) centre (0, 0) ccw
  arc A14 (26.25, 23.1503) -> (25.9374, 23.5) centre (0, 0) ccw
  arc A15 (29.5, 18.8348) -> (25.9374, 23.5) centre (0, 0) ccw
  line L55 (26.25, 18.5) -> (17.75, 18.5)
  line L56 (17.75, 23.5) -> (25.9374, 23.5)
  line L57 (26.25, -23) -> (17.75, -23)
  line L58 (26.25, -18.5) -> (17.75, -18.5)
  line L59 (-25.9374, 23.5) -> (-17.75, 23.5)
  line L60 (-17.75, 23.5) -> (-17.75, 18.5)
  line L61 (-17.75, 18.5) -> (-26.25, 18.5)
  line L62 (-29.5, 18.5) -> (-8.5, 18.5)
  line L63 (-26.25, 18.5) -> (-26.25, 23.1503)
  arc A16 (-25.9374, 23.5) -> (-29.5, 18.8348) centre (0, 0) ccw
  arc A17 (-25.9374, 23.5) -> (-26.25, 23.1503) centre (0, 0) ccw
  line L64 (-25.9374, 23.5) -> (-17.75, 23.5)
  line L65 (-17.75, -23) -> (-26.25, -23)
  line L66 (-17.75, -18.5) -> (-26.25, -18.5)
  line L67 (-17.75, 23.5) -> (-25.9374, 23.5)
  line L68 (26.25, 18.5) -> (17.75, 18.5)
  point P0 (0, 0)
  dimension "d43" = 0.5
  dimension "d44" = 0.5
  dimension "d45" = 0.5
  dimension "d46" = 0.5
extrude "KEEPOUT_TOP_5MM" add sketch "KEEPOUT_TOP_5MM_S" along normal blind 5 contours L63 A2 L11 L42 L35 | L42 L11 L60 L35 | L52 L29 L38 L31 | L38 L29 L54 L31 | L16 L40 L18 L44 | L16 A6 L46 L18 L40 | L47 L22 L37 L24 | L37 L22 L50 L24
ref_plane "Work Plane3" through (0, 0, 0) normal (0, 0, 1) x (1, 0, 0)
sketch "KEEPOUT_TOP_9.5MM_S" plane through (0, 0, 0) normal (0, 0, 1) x (1, 0, 0)
  line L0 (-29.5, 7.4807) -> (-27.05, 7.4807)
  line L1 (-27.05, 7.4807) -> (-27.05, -7.4807)
  line L2 (-27.05, -7.4807) -> (-29.5, -7.4807)
  line L3 (-29.5, -7.4807) -> (-29.5, 7.4807)
  line L4 (30, -22.5) -> (30, 22.5)
  arc A0 (30, 22.5) -> (-30, 22.5) centre (0, 0) ccw
  line L5 (-30, 22.5) -> (-30, -22.5)
  arc A1 (-30, -22.5) -> (30, -22.5) centre (0, 0) ccw
  line L6 (29.5, -7.4807) -> (27.05, -7.4807)
  line L7 (27.05, -7.4807) -> (27.05, 7.4807)
  line L8 (27.05, 7.4807) -> (29.5, 7.4807)
  line L9 (29.5, 7.4807) -> (29.5, -7.4807)
  line L10 (-29.5, 18.5) -> (-29.5, 18.8348)
  arc A2 (-26.25, 23.1503) -> (-29.5, 18.8348) centre (0, 0) ccw
  arc A3 (-25.9374, 23.5) -> (-26.25, 23.1503) centre (0, 0) ccw
  line L11 (-25.9374, 23.5) -> (-17.75, 23.5)
  line L12 (-17.75, 23.5) -> (-17.75, 30.1652)
  arc A4 (-4.9808, 34.6438) -> (-17.75, 30.1652) centre (0, 0) ccw
  line L13 (-4.9808, 34.6438) -> (-5.2937, 36.6193)
  arc A5 (5.2937, 36.6193) -> (-5.2937, 36.6193) centre (0, 0) ccw
  line L14 (5.2937, 36.6193) -> (4.9808, 34.6438)
  arc A6 (17.75, 30.1652) -> (4.9808, 34.6438) centre (0, 0) ccw
  line L15 (17.75, 30.1652) -> (17.75, 23.5)
  line L16 (17.75, 23.5) -> (25.9374, 23.5)
  arc A7 (26.25, 23.1503) -> (25.9374, 23.5) centre (0, 0) ccw
  arc A8 (29.5, 18.8348) -> (26.25, 23.1503) centre (0, 0) ccw
  line L17 (29.5, 18.8348) -> (29.5, 18.5)
  line L18 (29.5, 18.5) -> (26.25, 18.5)
  line L19 (26.25, 18.5) -> (17.75, 18.5)
  line L20 (17.75, 18.5) -> (17.5, 18.5)
  line L21 (17.5, 18.5) -> (17.5, -9.5)
  line L22 (17.5, -9.5) -> (8.5, -9.5)
  line L23 (8.5, -9.5) -> (8.5, -18.5)
  line L24 (8.5, -18.5) -> (17.75, -18.5)
  line L25 (17.75, -18.5) -> (26.25, -18.5)
  line L26 (26.25, -18.5) -> (29.5, -18.5)
  line L27 (29.5, -18.5) -> (29.5, -18.8348)
  arc A9 (26.3818, -23) -> (29.5, -18.8348) centre (0, 0) ccw
  line L28 (26.3818, -23) -> (26.25, -23)
  line L29 (26.25, -23) -> (17.75, -23)
  line L30 (17.75, -23) -> (17.75, -30.1652)
  arc A10 (4.9808, -34.6438) -> (17.75, -30.1652) centre (0, 0) ccw
  line L31 (4.9808, -34.6438) -> (5.2937, -36.6193)
  arc A11 (-5.2937, -36.6193) -> (5.2937, -36.6193) centre (0, 0) ccw
  line L32 (-5.2937, -36.6193) -> (-4.9808, -34.6438)
  arc A12 (-17.75, -30.1652) -> (-4.9808, -34.6438) centre (0, 0) ccw
  line L33 (-17.75, -30.1652) -> (-17.75, -23)
  line L34 (-17.75, -23) -> (-26.25, -23)
  line L35 (-26.25, -23) -> (-26.3818, -23)
  arc A13 (-29.5, -18.8348) -> (-26.3818, -23) centre (0, 0) ccw
  line L36 (-29.5, -18.8348) -> (-29.5, -18.5)
  line L37 (-29.5, -18.5) -> (-26.25, -18.5)
  line L38 (-26.25, -18.5) -> (-17.75, -18.5)
  line L39 (-17.75, -18.5) -> (-17.5, -18.5)
  line L40 (-17.5, -18.5) -> (-17.5, 9.5)
  line L41 (-17.5, 9.5) -> (-8.5, 9.5)
  line L42 (-8.5, 9.5) -> (-8.5, 18.5)
  line L43 (-8.5, 18.5) -> (-17.75, 18.5)
  line L44 (-17.75, 18.5) -> (-26.25, 18.5)
  line L45 (-26.25, 18.5) -> (-29.5, 18.5)
  line L46 (17.75, 23.5) -> (17.75, 18.5)
  line L47 (17.75, 18.5) -> (26.25, 18.5)
  line L48 (26.25, 18.5) -> (26.25, 23.1503)
  arc A14 (26.25, 23.1503) -> (25.9374, 23.5) centre (0, 0) ccw
  line L49 (25.9374, 23.5) -> (17.75, 23.5)
  line L50 (26.25, -23) -> (26.25, -18.5)
  line L51 (26.25, -18.5) -> (17.75, -18.5)
  line L52 (17.75, -18.5) -> (17.75, -23)
  line L53 (17.75, -23) -> (26.25, -23)
  line L54 (-17.75, -23) -> (-17.75, -18.5)
  line L55 (-17.75, -18.5) -> (-26.25, -18.5)
  line L56 (-26.25, -18.5) -> (-26.25, -23)
  line L57 (-26.25, -23) -> (-17.75, -23)
  line L58 (-17.75, 18.5) -> (-17.75, 23.5)
  line L59 (-26.25, 23.1503) -> (-26.25, 18.5)
  line L60 (-26.25, 18.5) -> (-17.75, 18.5)
  line L61 (-17.75, 18.5) -> (-17.75, 23.5)
  line L62 (-17.75, 23.5) -> (-25.9374, 23.5)
  arc A15 (-25.9374, 23.5) -> (-26.25, 23.1503) centre (0, 0) ccw
  circle A16 centre (0, 30) radius 3.5
  circle A17 centre (0, -25) radius 3.465
  point P0 (0, 0)
extrude "KEEPOUT_TOP_9.5MM" add sketch "KEEPOUT_TOP_9.5MM_S" along normal blind 9.5 separate body contours L0 L1 L2 L3 | L6 L7 L8 L9 | L10 A2 L59 L45 | L58 L12 A4 L13 A5 L14 A6 L15 L46 L20 L21 L22 L23 L24 L52 L30 A10 L31 A11 L32 A12 L33 L54 L39 L40 L41 L42 L43 | L56 L35 A13 L36 L37 | A8 L17 L18 L48 | L50 L26 L27 A9 L28
equation "\"d7\" = d6"
equation "\"d8\" = d7"
equation "\"d9\" = d8"
equation "\"d10\" = d9"
equation "\"d12\" = d10"
equation "\"d13\" = d12"
equation "\"d14\" = d13"
equation "\"d15\" = d14"
equation "\"d16\" = d15"
equation "\"d17\" = d16"
equation "\"d18\" = d17"
equation "\"d19\" = d17"
equation "\"d20\" = d19"
equation "\"d21\" = d20"
equation "\"d24\" = d23"
equation "\"d25\" = d24"
equation "\"d26\" = d25"
equation "\"d27\" = d26"
equation "\"d28\" = d26"
equation "\"d29\" = d28"
equation "\"d30\" = d29"
equation "\"d31\" = d30"
equation "\"d32\" = d31"
equation "\"d33\" = d14"
equation "\"d34\" = d14"
equation "\"d35\" = d33"
equation "\"d36\" = d30"
equation "\"d37\" = d28"
equation "\"d38\" = d36"
properties part number "KEEPOUT_TOP_0MM"
